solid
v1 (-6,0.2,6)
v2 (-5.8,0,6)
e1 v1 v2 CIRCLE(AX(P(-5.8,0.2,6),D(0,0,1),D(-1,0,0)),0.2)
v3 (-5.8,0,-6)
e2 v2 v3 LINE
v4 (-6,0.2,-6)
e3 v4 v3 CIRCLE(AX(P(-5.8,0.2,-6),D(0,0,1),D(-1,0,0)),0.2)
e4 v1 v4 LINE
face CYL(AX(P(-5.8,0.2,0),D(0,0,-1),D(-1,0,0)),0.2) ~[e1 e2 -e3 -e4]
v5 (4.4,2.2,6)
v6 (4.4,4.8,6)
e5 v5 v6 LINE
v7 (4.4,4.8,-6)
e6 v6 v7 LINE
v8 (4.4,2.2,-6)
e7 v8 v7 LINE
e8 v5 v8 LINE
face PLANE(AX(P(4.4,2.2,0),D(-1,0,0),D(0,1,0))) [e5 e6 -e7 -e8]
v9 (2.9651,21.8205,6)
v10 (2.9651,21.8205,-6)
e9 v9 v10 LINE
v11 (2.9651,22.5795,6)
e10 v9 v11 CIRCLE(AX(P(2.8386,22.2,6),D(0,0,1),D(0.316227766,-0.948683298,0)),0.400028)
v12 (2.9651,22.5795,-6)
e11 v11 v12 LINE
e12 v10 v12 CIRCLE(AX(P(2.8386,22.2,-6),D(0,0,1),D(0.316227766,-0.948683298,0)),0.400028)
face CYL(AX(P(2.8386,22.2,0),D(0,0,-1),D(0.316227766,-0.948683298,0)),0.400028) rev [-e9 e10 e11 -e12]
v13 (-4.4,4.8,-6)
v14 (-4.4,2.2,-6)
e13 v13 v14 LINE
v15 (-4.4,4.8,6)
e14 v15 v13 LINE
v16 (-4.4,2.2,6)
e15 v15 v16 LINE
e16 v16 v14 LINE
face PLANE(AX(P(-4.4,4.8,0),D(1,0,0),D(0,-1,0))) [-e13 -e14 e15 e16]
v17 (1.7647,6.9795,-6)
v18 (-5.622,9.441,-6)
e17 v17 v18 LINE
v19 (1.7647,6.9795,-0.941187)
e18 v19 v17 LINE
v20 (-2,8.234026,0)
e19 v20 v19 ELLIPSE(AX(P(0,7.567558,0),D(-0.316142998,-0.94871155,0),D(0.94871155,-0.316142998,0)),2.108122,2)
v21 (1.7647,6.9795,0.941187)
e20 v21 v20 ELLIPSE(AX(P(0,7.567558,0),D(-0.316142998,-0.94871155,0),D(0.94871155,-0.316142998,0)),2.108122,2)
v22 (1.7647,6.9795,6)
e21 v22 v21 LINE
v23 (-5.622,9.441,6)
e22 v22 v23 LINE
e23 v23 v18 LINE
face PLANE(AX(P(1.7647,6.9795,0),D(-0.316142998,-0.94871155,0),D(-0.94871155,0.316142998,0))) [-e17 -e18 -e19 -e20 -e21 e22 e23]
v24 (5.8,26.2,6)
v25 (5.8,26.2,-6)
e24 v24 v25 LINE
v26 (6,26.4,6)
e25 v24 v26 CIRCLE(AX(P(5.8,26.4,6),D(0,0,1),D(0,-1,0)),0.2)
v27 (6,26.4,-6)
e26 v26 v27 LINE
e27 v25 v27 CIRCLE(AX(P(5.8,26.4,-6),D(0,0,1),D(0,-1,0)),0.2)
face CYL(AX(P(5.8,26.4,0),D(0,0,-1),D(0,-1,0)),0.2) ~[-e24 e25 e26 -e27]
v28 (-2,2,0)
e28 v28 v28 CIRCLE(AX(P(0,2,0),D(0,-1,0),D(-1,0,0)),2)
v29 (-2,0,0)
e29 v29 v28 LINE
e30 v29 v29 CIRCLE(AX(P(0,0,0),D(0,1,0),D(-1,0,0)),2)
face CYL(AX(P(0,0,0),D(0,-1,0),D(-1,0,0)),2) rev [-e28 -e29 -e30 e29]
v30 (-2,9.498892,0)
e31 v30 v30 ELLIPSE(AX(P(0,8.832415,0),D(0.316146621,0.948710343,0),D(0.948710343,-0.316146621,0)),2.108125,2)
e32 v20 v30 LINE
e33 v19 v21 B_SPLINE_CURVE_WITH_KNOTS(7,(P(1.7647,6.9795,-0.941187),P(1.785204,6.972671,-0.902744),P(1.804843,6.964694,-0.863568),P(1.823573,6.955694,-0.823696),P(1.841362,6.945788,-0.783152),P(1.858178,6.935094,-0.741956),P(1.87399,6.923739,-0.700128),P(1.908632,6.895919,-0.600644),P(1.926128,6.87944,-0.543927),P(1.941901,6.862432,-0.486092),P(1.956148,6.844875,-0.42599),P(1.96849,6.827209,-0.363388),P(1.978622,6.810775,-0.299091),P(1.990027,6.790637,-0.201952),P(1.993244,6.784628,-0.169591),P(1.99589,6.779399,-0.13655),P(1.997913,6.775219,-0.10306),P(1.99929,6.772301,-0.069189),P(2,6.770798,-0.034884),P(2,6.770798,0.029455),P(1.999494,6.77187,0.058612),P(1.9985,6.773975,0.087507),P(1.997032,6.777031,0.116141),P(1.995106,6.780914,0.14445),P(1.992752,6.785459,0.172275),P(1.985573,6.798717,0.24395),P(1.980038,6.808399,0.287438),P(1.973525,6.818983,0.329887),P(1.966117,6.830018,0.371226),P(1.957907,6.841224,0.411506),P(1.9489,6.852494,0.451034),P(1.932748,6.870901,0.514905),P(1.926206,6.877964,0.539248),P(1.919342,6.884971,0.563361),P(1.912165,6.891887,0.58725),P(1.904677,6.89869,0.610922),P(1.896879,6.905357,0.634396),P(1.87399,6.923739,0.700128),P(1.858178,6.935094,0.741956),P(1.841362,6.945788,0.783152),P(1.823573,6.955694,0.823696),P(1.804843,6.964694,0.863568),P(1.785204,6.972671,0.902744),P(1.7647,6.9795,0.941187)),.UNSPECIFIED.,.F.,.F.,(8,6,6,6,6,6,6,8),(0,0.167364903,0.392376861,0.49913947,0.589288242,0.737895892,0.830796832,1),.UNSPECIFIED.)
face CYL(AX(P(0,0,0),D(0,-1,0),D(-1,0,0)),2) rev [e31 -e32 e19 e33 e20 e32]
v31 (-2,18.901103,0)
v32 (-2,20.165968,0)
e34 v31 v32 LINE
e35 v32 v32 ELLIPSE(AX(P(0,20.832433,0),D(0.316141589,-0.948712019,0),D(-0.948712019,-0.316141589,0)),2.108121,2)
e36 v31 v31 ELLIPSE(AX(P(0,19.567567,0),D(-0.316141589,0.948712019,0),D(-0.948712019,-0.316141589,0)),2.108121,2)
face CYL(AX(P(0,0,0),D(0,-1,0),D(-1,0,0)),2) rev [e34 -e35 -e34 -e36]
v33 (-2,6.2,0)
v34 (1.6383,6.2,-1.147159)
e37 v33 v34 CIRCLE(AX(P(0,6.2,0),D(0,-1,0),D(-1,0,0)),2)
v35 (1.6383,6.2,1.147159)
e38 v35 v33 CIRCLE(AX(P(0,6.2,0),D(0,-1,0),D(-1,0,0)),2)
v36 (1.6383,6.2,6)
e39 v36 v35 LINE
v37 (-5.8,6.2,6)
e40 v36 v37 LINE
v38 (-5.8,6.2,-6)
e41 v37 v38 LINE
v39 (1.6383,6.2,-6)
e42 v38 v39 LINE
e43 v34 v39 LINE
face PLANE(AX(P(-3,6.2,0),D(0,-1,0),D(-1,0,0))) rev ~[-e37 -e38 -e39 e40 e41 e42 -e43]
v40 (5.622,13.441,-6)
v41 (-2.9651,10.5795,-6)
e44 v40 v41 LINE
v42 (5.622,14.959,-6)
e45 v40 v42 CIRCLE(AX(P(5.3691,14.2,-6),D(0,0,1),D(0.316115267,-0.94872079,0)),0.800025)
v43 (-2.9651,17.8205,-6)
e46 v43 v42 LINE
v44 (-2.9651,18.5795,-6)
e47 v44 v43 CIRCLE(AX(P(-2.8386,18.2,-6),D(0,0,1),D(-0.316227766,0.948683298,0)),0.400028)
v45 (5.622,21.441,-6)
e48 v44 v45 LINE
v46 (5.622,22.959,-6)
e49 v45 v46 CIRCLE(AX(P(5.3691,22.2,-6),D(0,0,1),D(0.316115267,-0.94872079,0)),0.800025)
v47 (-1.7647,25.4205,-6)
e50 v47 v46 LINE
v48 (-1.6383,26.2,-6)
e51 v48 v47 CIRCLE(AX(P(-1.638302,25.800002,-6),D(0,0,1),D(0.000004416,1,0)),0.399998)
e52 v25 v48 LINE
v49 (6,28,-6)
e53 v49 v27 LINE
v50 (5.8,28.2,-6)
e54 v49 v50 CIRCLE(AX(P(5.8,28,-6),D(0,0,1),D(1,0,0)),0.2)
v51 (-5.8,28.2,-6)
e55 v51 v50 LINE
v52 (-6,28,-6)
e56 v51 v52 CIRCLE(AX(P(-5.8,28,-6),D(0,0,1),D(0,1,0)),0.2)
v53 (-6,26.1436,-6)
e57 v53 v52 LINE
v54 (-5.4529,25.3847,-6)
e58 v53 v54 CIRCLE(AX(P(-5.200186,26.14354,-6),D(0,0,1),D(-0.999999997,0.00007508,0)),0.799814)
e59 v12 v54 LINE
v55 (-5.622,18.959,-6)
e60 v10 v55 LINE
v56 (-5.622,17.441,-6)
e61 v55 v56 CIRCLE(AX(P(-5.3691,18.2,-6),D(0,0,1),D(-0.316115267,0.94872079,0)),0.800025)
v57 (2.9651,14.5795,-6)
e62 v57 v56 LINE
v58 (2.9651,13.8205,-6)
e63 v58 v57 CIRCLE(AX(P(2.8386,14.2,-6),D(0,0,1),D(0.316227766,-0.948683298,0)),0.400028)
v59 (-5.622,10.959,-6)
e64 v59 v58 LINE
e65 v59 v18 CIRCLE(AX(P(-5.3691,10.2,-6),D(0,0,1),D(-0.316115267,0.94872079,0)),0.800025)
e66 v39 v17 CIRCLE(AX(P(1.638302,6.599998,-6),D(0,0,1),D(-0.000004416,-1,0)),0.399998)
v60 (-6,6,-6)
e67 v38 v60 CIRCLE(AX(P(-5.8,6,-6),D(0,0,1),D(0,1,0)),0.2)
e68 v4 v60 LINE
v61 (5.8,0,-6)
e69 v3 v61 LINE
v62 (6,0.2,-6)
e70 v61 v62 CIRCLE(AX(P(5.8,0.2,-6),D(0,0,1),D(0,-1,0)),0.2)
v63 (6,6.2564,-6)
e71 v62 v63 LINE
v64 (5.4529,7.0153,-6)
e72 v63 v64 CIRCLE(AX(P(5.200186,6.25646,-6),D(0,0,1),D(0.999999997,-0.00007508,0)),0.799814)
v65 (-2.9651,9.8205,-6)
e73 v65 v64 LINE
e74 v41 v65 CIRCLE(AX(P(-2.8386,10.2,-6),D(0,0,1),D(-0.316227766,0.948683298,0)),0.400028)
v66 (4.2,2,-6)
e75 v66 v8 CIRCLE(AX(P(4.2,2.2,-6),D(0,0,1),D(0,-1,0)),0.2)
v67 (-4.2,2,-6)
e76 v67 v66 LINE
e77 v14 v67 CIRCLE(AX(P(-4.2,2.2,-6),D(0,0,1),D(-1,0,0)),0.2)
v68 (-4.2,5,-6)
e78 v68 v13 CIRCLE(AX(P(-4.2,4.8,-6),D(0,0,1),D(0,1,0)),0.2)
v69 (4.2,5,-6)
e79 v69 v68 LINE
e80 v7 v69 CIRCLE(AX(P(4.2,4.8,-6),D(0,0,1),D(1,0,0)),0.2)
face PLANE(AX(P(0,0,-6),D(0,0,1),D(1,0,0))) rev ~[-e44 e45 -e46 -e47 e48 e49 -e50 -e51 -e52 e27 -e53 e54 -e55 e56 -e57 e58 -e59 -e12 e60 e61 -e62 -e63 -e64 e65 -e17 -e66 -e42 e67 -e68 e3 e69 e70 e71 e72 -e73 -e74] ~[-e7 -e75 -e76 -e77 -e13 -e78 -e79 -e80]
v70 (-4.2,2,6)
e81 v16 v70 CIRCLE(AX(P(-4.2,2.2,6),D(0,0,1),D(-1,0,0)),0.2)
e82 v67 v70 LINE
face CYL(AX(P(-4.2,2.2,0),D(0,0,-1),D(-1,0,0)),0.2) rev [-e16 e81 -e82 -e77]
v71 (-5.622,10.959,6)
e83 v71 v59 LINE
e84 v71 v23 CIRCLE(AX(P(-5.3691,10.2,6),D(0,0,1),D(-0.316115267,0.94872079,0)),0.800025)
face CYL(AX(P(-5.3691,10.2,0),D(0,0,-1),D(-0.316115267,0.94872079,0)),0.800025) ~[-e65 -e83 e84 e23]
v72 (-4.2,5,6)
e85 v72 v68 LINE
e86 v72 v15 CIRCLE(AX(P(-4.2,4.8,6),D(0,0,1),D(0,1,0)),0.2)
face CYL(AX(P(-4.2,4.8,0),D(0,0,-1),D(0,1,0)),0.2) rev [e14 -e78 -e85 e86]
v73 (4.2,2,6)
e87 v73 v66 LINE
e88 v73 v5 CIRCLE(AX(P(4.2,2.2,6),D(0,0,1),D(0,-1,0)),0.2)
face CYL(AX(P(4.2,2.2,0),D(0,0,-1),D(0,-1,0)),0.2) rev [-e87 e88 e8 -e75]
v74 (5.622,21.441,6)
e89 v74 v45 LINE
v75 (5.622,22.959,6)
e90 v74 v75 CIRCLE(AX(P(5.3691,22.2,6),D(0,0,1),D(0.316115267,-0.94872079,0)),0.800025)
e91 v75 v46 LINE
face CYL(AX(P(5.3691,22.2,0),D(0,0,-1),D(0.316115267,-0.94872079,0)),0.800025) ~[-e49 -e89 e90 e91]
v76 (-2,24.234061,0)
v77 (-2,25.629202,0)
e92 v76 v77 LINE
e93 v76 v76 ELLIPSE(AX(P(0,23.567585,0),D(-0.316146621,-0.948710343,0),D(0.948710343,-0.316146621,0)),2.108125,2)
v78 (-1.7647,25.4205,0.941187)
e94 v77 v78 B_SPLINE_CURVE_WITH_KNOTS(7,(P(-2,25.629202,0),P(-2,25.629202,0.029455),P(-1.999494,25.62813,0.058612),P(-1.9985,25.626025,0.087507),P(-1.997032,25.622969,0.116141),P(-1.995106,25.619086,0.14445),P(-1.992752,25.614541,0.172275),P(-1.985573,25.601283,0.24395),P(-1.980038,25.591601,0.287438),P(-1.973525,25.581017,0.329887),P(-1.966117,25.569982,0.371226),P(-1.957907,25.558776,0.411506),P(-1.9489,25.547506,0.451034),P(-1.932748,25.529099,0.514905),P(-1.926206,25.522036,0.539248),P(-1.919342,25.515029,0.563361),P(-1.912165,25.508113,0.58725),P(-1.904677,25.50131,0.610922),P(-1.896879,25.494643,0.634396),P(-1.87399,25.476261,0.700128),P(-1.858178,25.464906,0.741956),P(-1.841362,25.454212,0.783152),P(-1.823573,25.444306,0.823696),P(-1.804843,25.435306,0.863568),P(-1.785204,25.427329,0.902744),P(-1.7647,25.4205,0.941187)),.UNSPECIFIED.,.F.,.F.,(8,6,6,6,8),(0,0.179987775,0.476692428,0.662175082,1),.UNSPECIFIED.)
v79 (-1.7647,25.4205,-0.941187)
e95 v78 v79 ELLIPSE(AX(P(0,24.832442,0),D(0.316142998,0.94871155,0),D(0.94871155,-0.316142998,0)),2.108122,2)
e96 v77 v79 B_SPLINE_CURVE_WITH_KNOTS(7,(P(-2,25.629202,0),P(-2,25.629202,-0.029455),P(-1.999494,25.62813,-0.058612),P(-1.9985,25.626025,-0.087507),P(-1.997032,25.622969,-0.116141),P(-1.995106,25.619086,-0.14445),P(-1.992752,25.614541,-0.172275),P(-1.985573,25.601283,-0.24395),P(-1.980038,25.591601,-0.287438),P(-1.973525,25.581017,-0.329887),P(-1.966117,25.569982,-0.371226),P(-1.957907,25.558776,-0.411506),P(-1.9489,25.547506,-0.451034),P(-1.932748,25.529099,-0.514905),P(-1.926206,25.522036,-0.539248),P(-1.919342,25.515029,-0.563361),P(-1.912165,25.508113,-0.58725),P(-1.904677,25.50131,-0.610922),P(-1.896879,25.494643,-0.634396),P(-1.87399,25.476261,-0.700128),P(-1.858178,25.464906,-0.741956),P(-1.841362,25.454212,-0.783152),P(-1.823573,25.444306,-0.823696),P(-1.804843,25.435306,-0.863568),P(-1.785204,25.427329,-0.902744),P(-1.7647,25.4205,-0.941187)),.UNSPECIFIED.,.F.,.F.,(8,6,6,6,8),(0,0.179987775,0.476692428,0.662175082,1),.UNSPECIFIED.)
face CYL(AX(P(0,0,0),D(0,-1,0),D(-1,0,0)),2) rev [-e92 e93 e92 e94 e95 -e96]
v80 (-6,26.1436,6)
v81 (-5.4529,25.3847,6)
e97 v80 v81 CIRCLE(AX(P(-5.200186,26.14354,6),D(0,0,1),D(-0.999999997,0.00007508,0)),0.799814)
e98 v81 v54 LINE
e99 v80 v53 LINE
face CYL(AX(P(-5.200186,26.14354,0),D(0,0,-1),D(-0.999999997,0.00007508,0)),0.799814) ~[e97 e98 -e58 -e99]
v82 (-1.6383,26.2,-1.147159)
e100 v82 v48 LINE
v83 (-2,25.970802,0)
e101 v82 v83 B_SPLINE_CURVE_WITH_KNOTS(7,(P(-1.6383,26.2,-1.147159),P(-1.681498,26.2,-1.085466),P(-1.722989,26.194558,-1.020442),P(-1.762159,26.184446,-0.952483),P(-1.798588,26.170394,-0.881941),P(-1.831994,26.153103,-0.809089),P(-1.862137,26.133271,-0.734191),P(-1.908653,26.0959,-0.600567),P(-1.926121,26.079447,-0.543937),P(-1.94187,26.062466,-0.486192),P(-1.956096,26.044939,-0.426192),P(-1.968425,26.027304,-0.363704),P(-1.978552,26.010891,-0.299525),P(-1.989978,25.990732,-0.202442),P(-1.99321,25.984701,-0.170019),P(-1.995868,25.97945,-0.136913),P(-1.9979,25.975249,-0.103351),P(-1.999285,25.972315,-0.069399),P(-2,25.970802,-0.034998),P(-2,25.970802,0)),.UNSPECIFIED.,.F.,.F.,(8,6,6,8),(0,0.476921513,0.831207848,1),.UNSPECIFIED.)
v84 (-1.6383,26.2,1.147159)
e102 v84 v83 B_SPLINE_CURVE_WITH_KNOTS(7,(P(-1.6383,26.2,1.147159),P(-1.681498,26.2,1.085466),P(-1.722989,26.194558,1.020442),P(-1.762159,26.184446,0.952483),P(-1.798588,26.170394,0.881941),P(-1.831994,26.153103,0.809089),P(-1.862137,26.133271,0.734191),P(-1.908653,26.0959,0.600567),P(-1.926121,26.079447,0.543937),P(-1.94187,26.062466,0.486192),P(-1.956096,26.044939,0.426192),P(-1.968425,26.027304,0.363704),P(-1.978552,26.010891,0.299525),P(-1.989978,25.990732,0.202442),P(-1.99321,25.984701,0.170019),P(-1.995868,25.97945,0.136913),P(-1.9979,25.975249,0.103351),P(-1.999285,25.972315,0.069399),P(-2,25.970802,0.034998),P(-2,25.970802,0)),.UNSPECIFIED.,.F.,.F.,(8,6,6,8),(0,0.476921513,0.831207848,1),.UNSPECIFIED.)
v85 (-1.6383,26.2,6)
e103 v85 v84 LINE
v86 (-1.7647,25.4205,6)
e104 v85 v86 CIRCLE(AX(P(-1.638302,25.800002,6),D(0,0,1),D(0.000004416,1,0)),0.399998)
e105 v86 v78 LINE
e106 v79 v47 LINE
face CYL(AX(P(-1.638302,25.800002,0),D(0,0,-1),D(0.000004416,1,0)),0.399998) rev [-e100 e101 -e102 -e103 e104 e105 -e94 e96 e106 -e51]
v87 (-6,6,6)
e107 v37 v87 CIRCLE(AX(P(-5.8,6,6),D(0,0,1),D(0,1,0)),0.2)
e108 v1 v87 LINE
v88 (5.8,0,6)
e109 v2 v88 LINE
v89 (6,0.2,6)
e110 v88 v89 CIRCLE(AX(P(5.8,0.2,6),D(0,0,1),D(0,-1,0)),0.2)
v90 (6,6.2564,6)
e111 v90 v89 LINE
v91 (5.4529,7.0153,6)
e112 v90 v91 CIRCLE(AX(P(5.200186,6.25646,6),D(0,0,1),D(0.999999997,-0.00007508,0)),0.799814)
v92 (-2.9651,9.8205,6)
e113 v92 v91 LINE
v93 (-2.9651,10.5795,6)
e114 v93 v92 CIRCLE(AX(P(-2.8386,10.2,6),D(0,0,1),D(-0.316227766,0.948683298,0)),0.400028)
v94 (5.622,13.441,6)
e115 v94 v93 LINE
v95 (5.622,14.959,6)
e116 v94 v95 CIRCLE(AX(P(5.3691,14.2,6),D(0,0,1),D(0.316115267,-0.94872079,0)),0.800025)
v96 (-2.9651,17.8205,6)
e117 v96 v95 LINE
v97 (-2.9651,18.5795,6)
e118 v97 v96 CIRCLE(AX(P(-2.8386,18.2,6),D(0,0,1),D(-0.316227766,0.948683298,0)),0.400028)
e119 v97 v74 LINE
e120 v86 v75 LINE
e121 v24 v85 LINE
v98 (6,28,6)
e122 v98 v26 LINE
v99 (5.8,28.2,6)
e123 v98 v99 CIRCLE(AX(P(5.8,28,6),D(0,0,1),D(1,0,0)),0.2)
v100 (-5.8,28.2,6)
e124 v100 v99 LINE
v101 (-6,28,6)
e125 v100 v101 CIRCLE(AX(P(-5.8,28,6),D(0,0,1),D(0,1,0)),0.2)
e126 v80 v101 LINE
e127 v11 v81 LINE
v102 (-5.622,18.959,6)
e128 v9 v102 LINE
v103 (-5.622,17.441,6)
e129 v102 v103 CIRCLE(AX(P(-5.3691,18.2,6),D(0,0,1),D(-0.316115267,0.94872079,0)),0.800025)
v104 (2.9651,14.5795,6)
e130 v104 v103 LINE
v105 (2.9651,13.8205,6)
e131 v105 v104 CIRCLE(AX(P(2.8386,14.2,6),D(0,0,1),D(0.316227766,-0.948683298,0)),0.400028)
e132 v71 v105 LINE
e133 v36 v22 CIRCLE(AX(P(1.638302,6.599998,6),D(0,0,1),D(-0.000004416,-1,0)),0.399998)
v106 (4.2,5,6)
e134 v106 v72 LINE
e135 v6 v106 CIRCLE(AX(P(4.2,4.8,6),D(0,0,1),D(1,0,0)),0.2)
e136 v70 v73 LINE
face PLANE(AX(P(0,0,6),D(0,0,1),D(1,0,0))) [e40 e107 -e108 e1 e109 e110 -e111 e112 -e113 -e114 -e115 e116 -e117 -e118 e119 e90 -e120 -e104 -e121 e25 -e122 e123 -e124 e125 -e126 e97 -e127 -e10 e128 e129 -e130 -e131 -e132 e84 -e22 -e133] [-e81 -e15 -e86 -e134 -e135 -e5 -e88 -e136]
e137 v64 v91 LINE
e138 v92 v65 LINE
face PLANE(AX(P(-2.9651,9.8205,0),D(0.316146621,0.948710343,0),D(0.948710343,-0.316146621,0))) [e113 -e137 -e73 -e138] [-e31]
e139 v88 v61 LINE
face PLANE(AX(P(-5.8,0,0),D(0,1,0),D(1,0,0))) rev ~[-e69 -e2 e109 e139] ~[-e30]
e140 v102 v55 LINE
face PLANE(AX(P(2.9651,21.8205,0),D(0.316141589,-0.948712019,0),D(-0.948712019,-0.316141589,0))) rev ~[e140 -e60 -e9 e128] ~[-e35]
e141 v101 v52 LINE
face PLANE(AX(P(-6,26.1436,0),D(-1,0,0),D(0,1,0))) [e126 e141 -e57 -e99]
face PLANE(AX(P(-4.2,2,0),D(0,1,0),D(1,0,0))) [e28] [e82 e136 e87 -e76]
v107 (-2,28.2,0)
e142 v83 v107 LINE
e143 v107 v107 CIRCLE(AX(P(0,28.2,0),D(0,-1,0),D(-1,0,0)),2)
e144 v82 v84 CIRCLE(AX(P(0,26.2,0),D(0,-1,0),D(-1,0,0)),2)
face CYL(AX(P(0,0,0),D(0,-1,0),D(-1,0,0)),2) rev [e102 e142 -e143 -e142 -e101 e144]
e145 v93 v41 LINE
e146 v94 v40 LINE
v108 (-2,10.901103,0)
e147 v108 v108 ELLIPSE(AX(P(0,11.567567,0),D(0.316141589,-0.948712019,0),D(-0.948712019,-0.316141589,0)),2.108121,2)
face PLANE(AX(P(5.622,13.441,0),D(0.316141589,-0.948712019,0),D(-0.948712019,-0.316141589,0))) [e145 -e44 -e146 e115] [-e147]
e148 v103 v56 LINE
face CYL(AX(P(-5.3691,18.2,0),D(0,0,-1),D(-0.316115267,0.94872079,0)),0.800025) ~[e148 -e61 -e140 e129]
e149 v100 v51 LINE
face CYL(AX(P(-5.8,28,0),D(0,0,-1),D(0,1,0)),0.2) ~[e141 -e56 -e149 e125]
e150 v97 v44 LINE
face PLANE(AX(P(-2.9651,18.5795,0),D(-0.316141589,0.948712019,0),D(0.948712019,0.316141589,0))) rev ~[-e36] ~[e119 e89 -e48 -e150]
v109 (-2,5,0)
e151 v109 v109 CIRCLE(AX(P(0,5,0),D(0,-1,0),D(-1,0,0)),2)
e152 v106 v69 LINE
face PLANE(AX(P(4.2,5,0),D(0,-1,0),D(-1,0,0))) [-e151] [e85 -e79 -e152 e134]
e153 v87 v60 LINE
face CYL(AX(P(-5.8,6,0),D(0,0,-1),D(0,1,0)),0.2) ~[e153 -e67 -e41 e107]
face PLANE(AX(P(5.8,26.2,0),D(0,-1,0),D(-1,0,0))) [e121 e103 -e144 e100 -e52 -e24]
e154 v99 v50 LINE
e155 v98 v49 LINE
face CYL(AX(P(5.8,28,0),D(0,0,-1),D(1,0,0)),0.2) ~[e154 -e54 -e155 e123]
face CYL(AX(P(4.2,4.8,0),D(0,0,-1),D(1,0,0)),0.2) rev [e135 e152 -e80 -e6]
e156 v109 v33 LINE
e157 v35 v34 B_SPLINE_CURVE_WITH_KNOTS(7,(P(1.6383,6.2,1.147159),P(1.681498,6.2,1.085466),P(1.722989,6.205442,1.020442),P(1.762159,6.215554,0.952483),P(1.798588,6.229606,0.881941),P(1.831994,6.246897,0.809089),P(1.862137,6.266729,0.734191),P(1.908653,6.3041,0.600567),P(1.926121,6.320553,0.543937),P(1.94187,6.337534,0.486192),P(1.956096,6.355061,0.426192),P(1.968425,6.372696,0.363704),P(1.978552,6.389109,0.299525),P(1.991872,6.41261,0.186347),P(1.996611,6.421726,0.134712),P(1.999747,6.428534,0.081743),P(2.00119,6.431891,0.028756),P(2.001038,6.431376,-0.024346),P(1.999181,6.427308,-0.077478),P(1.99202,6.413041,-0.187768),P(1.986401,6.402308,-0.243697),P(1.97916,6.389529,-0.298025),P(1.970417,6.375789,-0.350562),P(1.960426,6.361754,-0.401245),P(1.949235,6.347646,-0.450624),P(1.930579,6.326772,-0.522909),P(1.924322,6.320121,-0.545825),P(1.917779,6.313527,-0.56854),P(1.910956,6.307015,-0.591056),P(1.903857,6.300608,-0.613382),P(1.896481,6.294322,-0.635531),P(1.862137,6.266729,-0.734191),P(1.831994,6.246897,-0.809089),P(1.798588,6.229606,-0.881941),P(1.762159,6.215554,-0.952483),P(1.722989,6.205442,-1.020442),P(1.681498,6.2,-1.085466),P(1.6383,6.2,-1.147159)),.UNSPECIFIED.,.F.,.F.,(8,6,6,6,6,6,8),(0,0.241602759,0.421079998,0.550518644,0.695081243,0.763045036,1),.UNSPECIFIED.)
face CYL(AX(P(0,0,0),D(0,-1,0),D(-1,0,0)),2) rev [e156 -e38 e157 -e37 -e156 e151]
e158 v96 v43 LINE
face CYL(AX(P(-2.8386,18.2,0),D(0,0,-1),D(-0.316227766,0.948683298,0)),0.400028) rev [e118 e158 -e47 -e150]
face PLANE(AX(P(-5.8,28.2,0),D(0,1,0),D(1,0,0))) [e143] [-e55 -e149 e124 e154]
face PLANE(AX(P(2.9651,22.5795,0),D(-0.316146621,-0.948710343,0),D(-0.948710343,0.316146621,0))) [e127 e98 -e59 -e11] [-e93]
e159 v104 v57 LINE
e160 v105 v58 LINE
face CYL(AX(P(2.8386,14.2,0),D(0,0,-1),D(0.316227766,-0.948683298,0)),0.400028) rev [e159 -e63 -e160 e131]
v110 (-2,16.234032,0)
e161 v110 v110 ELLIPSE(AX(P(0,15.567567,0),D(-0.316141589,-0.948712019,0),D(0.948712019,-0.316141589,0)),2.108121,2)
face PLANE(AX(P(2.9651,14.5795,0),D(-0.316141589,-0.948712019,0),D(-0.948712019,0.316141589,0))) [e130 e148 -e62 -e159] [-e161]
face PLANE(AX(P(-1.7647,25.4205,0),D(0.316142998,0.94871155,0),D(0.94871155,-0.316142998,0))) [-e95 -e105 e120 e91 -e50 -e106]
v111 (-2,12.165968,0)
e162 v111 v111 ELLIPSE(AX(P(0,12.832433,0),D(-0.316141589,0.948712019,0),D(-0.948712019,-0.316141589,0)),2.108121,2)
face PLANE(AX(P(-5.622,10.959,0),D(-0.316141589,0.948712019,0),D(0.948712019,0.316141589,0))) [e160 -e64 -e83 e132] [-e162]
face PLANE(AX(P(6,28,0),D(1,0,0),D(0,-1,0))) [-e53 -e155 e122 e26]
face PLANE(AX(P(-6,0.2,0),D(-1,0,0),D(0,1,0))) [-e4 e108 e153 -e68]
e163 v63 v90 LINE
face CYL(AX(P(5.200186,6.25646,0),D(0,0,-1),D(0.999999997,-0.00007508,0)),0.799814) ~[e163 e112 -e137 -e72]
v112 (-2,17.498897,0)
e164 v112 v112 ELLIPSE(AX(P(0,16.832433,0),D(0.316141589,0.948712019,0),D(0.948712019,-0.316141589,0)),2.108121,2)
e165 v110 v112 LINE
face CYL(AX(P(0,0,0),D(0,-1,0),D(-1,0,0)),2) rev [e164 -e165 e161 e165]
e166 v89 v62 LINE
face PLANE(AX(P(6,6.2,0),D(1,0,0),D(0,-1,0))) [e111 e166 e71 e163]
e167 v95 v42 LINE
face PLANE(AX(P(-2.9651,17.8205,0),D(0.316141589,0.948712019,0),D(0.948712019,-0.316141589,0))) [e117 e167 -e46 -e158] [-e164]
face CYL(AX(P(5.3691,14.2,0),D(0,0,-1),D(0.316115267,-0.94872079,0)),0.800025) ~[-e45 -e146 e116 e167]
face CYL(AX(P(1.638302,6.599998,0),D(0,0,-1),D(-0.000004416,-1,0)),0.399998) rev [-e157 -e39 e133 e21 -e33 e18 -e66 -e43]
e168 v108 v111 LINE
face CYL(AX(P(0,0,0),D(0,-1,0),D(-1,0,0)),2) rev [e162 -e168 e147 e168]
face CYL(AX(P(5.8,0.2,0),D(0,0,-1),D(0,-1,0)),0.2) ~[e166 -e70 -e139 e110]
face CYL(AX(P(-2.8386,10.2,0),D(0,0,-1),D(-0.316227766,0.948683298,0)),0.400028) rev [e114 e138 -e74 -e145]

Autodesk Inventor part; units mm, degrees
ref_plane "YZ Plane" through (0, 0, 0) normal (1, 0, 0) x (0, 1, 0)
ref_plane "XZ Plane" through (0, 0, 0) normal (0, 1, 0) x (-1, 0, 0)
ref_plane "XY Plane" through (0, 0, 0) normal (0, 0, 1) x (1, 0, 0)
sketch "Boceto1" plane through (0, 0, 0) normal (0, 0, 1) x (1, 0, 0)
  line L0 (-4.2, 2) -> (4.2, 2)
  line L1 (-4.4, 4.8) -> (-4.4, 2.2)
  line L2 (4.2, 5) -> (-4.2, 5)
  line L3 (4.4, 2.2) -> (4.4, 4.8)
  line L4 (6, 6.2) -> (6, 0.2)
  line L5 (-3, 6.2) -> (1.6383, 6.2)
  line L6 (-6, 0.2) -> (-6, 6)
  line L7 (-5.8, 0) -> (5.8, 0)
  line L8 (-5.8, 28.2) -> (5.8, 28.2)
  line L9 (6, 28) -> (6, 26.4)
  line L10 (5.8, 26.2) -> (-1.6383, 26.2)
  line L11 (-6, 26.1436) -> (-6, 28)
  line L12 (-3, 6.2) -> (-5.8, 6.2)
  line L13 (-5.1901, 10.47) -> (-5.0521, 10.516)
  line L14 (5.1901, 14.47) -> (5.0521, 14.516)
  line L15 (1.7647, 6.9795) -> (-5.622, 9.441)
  line L16 (-7.7794, 10.1599) -> (-7.7493, 10.2501)
  line L17 (7.7794, 6.2401) -> (7.4, 5.1016)
  line L18 (-5.622, 10.959) -> (2.9651, 13.8205)
  line L19 (7.7493, 14.2501) -> (7.7794, 14.1599)
  line L20 (-7.7493, 10.1499) -> (-7.7794, 10.2401)
  line L21 (2.9651, 14.5795) -> (-5.622, 17.441)
  line L22 (-7.7794, 18.1599) -> (-7.7493, 18.2501)
  line L23 (-2.9651, 17.8205) -> (5.622, 14.959)
  line L24 (7.7794, 14.2401) -> (7.7493, 14.1499)
  line L25 (-2.9651, 18.5795) -> (5.622, 21.441)
  line L26 (7.7794, 22.1599) -> (7.7493, 22.2501)
  line L27 (-7.7794, 18.2401) -> (-7.7493, 18.1499)
  line L28 (-1.7647, 25.4205) -> (5.622, 22.959)
  line L29 (7.7794, 22.2401) -> (7.7493, 22.1499)
  line L30 (6.0017, 22.8324) -> (6, 22.8319)
  line L31 (2.9651, 21.8205) -> (-5.622, 18.959)
  line L32 (6.0017, 21.5676) -> (6, 21.5681)
  line L33 (2.9651, 22.5795) -> (-5.4529, 25.3847)
  line L34 (-2.9651, 9.8205) -> (5.4529, 7.0153)
  line L35 (5.622, 13.441) -> (-2.9651, 10.5795)
  line L36 (-6, 9.5681) -> (-6.0017, 9.5676)
  line L37 (-6.0017, 10.8324) -> (-6, 10.8319)
  line L38 (-5.2246, 10.5735) -> (-5.0521, 10.516)
  line L39 (6, 6.2564) -> (6, 6.2)
  arc A0 (5.622, 21.441) -> (5.622, 22.959) centre (5.3691, 22.2) ccw
  arc A1 (-5.622, 18.959) -> (-5.622, 17.441) centre (-5.3691, 18.2) ccw
  arc A2 (5.622, 13.441) -> (5.622, 14.959) centre (5.3691, 14.2) ccw
  arc A3 (-5.622, 10.959) -> (-5.622, 9.441) centre (-5.3691, 10.2) ccw
  arc A4 (6, 6.2564) -> (5.4529, 7.0153) centre (5.2, 6.2564) ccw
  arc A5 (-6, 26.1436) -> (-5.4529, 25.3847) centre (-5.2, 26.1436) ccw
  arc A6 (-2.8711, 26.2) -> (-2.9343, 25.8103) centre (-2.8711, 26) ccw
  arc A7 (-3.5345, 18.3897) -> (-3.5345, 18.0103) centre (-3.4713, 18.2) ccw
  arc A8 (3.5345, 14.0103) -> (3.5345, 14.3897) centre (3.4713, 14.2) ccw
  arc A9 (-3.5345, 10.3897) -> (-3.5345, 10.0103) centre (-3.4713, 10.2) ccw
  arc A10 (2.8711, 6.2) -> (2.9343, 6.5897) centre (2.8711, 6.4) ccw
  arc A11 (-5.8, 6.2) -> (-6, 6) centre (-5.8, 6) ccw
  arc A12 (-6, 0.2) -> (-5.8, 0) centre (-5.8, 0.2) ccw
  arc A13 (5.8, 0) -> (6, 0.2) centre (5.8, 0.2) ccw
  arc A14 (-5.8, 28.2) -> (-6, 28) centre (-5.8, 28) ccw
  arc A15 (6, 28) -> (5.8, 28.2) centre (5.8, 28) ccw
  arc A16 (5.8, 26.2) -> (6, 26.4) centre (5.8, 26.4) ccw
  arc A17 (-4.2, 5) -> (-4.4, 4.8) centre (-4.2, 4.8) ccw
  arc A18 (-4.4, 2.2) -> (-4.2, 2) centre (-4.2, 2.2) ccw
  arc A19 (4.2, 2) -> (4.4, 2.2) centre (4.2, 2.2) ccw
  arc A20 (4.4, 4.8) -> (4.2, 5) centre (4.2, 4.8) ccw
  arc A21 (3.5345, 22.0103) -> (3.5345, 22.3897) centre (3.4713, 22.2) ccw
  arc A22 (2.9651, 21.8205) -> (2.9651, 22.5795) centre (2.8386, 22.2) ccw
  arc A23 (-2.9651, 18.5795) -> (-2.9651, 17.8205) centre (-2.8386, 18.2) ccw
  arc A24 (2.9651, 13.8205) -> (2.9651, 14.5795) centre (2.8386, 14.2) ccw
  arc A25 (-2.9651, 10.5795) -> (-2.9651, 9.8205) centre (-2.8386, 10.2) ccw
  arc A26 (1.6383, 6.2) -> (1.7647, 6.9795) centre (1.6383, 6.6) ccw
  arc A27 (-1.6383, 26.2) -> (-1.7647, 25.4205) centre (-1.6383, 25.8) ccw
  point P0 (0, 0)
  point P1 (0, 0)
  point P2 (6, 26.2)
  point P3 (6, 28.2)
  point P4 (6, 14.2)
  point P5 (6, 18.2)
  point P6 (6, 22.2)
  point P7 (-6, 10.2)
  point P8 (-6, 14.2)
  point P9 (-6, 18.2)
  point P10 (-6, 22.2)
  point P11 (0, 8.2)
  point P12 (0, 12.2)
  point P13 (0, 16.2)
  point P14 (0, 20.2)
  point P15 (0, 24.2)
  point P16 (4.1039, 22.2)
  dimension "d0" = 2
  dimension "d7" = 16
  dimension "d22" = 0.8
  dimension "d23" = 0.2
  dimension "d24" = 0.2
  dimension "d30" = 0.2
  dimension "d31" = 0.4
extrude "Extrusión1" add sketch "Boceto1" along normal mid plane 12
sketch "Boceto2" plane through (0, 0, 0) normal (0, 1, 0) x (-1, 0, 0)
  circle A0 centre (0, 0) radius 2
  dimension "d27" = 4
extrude "Extrusión2" cut sketch "Boceto2" along normal blind 40
properties part number "_3DPrint"
